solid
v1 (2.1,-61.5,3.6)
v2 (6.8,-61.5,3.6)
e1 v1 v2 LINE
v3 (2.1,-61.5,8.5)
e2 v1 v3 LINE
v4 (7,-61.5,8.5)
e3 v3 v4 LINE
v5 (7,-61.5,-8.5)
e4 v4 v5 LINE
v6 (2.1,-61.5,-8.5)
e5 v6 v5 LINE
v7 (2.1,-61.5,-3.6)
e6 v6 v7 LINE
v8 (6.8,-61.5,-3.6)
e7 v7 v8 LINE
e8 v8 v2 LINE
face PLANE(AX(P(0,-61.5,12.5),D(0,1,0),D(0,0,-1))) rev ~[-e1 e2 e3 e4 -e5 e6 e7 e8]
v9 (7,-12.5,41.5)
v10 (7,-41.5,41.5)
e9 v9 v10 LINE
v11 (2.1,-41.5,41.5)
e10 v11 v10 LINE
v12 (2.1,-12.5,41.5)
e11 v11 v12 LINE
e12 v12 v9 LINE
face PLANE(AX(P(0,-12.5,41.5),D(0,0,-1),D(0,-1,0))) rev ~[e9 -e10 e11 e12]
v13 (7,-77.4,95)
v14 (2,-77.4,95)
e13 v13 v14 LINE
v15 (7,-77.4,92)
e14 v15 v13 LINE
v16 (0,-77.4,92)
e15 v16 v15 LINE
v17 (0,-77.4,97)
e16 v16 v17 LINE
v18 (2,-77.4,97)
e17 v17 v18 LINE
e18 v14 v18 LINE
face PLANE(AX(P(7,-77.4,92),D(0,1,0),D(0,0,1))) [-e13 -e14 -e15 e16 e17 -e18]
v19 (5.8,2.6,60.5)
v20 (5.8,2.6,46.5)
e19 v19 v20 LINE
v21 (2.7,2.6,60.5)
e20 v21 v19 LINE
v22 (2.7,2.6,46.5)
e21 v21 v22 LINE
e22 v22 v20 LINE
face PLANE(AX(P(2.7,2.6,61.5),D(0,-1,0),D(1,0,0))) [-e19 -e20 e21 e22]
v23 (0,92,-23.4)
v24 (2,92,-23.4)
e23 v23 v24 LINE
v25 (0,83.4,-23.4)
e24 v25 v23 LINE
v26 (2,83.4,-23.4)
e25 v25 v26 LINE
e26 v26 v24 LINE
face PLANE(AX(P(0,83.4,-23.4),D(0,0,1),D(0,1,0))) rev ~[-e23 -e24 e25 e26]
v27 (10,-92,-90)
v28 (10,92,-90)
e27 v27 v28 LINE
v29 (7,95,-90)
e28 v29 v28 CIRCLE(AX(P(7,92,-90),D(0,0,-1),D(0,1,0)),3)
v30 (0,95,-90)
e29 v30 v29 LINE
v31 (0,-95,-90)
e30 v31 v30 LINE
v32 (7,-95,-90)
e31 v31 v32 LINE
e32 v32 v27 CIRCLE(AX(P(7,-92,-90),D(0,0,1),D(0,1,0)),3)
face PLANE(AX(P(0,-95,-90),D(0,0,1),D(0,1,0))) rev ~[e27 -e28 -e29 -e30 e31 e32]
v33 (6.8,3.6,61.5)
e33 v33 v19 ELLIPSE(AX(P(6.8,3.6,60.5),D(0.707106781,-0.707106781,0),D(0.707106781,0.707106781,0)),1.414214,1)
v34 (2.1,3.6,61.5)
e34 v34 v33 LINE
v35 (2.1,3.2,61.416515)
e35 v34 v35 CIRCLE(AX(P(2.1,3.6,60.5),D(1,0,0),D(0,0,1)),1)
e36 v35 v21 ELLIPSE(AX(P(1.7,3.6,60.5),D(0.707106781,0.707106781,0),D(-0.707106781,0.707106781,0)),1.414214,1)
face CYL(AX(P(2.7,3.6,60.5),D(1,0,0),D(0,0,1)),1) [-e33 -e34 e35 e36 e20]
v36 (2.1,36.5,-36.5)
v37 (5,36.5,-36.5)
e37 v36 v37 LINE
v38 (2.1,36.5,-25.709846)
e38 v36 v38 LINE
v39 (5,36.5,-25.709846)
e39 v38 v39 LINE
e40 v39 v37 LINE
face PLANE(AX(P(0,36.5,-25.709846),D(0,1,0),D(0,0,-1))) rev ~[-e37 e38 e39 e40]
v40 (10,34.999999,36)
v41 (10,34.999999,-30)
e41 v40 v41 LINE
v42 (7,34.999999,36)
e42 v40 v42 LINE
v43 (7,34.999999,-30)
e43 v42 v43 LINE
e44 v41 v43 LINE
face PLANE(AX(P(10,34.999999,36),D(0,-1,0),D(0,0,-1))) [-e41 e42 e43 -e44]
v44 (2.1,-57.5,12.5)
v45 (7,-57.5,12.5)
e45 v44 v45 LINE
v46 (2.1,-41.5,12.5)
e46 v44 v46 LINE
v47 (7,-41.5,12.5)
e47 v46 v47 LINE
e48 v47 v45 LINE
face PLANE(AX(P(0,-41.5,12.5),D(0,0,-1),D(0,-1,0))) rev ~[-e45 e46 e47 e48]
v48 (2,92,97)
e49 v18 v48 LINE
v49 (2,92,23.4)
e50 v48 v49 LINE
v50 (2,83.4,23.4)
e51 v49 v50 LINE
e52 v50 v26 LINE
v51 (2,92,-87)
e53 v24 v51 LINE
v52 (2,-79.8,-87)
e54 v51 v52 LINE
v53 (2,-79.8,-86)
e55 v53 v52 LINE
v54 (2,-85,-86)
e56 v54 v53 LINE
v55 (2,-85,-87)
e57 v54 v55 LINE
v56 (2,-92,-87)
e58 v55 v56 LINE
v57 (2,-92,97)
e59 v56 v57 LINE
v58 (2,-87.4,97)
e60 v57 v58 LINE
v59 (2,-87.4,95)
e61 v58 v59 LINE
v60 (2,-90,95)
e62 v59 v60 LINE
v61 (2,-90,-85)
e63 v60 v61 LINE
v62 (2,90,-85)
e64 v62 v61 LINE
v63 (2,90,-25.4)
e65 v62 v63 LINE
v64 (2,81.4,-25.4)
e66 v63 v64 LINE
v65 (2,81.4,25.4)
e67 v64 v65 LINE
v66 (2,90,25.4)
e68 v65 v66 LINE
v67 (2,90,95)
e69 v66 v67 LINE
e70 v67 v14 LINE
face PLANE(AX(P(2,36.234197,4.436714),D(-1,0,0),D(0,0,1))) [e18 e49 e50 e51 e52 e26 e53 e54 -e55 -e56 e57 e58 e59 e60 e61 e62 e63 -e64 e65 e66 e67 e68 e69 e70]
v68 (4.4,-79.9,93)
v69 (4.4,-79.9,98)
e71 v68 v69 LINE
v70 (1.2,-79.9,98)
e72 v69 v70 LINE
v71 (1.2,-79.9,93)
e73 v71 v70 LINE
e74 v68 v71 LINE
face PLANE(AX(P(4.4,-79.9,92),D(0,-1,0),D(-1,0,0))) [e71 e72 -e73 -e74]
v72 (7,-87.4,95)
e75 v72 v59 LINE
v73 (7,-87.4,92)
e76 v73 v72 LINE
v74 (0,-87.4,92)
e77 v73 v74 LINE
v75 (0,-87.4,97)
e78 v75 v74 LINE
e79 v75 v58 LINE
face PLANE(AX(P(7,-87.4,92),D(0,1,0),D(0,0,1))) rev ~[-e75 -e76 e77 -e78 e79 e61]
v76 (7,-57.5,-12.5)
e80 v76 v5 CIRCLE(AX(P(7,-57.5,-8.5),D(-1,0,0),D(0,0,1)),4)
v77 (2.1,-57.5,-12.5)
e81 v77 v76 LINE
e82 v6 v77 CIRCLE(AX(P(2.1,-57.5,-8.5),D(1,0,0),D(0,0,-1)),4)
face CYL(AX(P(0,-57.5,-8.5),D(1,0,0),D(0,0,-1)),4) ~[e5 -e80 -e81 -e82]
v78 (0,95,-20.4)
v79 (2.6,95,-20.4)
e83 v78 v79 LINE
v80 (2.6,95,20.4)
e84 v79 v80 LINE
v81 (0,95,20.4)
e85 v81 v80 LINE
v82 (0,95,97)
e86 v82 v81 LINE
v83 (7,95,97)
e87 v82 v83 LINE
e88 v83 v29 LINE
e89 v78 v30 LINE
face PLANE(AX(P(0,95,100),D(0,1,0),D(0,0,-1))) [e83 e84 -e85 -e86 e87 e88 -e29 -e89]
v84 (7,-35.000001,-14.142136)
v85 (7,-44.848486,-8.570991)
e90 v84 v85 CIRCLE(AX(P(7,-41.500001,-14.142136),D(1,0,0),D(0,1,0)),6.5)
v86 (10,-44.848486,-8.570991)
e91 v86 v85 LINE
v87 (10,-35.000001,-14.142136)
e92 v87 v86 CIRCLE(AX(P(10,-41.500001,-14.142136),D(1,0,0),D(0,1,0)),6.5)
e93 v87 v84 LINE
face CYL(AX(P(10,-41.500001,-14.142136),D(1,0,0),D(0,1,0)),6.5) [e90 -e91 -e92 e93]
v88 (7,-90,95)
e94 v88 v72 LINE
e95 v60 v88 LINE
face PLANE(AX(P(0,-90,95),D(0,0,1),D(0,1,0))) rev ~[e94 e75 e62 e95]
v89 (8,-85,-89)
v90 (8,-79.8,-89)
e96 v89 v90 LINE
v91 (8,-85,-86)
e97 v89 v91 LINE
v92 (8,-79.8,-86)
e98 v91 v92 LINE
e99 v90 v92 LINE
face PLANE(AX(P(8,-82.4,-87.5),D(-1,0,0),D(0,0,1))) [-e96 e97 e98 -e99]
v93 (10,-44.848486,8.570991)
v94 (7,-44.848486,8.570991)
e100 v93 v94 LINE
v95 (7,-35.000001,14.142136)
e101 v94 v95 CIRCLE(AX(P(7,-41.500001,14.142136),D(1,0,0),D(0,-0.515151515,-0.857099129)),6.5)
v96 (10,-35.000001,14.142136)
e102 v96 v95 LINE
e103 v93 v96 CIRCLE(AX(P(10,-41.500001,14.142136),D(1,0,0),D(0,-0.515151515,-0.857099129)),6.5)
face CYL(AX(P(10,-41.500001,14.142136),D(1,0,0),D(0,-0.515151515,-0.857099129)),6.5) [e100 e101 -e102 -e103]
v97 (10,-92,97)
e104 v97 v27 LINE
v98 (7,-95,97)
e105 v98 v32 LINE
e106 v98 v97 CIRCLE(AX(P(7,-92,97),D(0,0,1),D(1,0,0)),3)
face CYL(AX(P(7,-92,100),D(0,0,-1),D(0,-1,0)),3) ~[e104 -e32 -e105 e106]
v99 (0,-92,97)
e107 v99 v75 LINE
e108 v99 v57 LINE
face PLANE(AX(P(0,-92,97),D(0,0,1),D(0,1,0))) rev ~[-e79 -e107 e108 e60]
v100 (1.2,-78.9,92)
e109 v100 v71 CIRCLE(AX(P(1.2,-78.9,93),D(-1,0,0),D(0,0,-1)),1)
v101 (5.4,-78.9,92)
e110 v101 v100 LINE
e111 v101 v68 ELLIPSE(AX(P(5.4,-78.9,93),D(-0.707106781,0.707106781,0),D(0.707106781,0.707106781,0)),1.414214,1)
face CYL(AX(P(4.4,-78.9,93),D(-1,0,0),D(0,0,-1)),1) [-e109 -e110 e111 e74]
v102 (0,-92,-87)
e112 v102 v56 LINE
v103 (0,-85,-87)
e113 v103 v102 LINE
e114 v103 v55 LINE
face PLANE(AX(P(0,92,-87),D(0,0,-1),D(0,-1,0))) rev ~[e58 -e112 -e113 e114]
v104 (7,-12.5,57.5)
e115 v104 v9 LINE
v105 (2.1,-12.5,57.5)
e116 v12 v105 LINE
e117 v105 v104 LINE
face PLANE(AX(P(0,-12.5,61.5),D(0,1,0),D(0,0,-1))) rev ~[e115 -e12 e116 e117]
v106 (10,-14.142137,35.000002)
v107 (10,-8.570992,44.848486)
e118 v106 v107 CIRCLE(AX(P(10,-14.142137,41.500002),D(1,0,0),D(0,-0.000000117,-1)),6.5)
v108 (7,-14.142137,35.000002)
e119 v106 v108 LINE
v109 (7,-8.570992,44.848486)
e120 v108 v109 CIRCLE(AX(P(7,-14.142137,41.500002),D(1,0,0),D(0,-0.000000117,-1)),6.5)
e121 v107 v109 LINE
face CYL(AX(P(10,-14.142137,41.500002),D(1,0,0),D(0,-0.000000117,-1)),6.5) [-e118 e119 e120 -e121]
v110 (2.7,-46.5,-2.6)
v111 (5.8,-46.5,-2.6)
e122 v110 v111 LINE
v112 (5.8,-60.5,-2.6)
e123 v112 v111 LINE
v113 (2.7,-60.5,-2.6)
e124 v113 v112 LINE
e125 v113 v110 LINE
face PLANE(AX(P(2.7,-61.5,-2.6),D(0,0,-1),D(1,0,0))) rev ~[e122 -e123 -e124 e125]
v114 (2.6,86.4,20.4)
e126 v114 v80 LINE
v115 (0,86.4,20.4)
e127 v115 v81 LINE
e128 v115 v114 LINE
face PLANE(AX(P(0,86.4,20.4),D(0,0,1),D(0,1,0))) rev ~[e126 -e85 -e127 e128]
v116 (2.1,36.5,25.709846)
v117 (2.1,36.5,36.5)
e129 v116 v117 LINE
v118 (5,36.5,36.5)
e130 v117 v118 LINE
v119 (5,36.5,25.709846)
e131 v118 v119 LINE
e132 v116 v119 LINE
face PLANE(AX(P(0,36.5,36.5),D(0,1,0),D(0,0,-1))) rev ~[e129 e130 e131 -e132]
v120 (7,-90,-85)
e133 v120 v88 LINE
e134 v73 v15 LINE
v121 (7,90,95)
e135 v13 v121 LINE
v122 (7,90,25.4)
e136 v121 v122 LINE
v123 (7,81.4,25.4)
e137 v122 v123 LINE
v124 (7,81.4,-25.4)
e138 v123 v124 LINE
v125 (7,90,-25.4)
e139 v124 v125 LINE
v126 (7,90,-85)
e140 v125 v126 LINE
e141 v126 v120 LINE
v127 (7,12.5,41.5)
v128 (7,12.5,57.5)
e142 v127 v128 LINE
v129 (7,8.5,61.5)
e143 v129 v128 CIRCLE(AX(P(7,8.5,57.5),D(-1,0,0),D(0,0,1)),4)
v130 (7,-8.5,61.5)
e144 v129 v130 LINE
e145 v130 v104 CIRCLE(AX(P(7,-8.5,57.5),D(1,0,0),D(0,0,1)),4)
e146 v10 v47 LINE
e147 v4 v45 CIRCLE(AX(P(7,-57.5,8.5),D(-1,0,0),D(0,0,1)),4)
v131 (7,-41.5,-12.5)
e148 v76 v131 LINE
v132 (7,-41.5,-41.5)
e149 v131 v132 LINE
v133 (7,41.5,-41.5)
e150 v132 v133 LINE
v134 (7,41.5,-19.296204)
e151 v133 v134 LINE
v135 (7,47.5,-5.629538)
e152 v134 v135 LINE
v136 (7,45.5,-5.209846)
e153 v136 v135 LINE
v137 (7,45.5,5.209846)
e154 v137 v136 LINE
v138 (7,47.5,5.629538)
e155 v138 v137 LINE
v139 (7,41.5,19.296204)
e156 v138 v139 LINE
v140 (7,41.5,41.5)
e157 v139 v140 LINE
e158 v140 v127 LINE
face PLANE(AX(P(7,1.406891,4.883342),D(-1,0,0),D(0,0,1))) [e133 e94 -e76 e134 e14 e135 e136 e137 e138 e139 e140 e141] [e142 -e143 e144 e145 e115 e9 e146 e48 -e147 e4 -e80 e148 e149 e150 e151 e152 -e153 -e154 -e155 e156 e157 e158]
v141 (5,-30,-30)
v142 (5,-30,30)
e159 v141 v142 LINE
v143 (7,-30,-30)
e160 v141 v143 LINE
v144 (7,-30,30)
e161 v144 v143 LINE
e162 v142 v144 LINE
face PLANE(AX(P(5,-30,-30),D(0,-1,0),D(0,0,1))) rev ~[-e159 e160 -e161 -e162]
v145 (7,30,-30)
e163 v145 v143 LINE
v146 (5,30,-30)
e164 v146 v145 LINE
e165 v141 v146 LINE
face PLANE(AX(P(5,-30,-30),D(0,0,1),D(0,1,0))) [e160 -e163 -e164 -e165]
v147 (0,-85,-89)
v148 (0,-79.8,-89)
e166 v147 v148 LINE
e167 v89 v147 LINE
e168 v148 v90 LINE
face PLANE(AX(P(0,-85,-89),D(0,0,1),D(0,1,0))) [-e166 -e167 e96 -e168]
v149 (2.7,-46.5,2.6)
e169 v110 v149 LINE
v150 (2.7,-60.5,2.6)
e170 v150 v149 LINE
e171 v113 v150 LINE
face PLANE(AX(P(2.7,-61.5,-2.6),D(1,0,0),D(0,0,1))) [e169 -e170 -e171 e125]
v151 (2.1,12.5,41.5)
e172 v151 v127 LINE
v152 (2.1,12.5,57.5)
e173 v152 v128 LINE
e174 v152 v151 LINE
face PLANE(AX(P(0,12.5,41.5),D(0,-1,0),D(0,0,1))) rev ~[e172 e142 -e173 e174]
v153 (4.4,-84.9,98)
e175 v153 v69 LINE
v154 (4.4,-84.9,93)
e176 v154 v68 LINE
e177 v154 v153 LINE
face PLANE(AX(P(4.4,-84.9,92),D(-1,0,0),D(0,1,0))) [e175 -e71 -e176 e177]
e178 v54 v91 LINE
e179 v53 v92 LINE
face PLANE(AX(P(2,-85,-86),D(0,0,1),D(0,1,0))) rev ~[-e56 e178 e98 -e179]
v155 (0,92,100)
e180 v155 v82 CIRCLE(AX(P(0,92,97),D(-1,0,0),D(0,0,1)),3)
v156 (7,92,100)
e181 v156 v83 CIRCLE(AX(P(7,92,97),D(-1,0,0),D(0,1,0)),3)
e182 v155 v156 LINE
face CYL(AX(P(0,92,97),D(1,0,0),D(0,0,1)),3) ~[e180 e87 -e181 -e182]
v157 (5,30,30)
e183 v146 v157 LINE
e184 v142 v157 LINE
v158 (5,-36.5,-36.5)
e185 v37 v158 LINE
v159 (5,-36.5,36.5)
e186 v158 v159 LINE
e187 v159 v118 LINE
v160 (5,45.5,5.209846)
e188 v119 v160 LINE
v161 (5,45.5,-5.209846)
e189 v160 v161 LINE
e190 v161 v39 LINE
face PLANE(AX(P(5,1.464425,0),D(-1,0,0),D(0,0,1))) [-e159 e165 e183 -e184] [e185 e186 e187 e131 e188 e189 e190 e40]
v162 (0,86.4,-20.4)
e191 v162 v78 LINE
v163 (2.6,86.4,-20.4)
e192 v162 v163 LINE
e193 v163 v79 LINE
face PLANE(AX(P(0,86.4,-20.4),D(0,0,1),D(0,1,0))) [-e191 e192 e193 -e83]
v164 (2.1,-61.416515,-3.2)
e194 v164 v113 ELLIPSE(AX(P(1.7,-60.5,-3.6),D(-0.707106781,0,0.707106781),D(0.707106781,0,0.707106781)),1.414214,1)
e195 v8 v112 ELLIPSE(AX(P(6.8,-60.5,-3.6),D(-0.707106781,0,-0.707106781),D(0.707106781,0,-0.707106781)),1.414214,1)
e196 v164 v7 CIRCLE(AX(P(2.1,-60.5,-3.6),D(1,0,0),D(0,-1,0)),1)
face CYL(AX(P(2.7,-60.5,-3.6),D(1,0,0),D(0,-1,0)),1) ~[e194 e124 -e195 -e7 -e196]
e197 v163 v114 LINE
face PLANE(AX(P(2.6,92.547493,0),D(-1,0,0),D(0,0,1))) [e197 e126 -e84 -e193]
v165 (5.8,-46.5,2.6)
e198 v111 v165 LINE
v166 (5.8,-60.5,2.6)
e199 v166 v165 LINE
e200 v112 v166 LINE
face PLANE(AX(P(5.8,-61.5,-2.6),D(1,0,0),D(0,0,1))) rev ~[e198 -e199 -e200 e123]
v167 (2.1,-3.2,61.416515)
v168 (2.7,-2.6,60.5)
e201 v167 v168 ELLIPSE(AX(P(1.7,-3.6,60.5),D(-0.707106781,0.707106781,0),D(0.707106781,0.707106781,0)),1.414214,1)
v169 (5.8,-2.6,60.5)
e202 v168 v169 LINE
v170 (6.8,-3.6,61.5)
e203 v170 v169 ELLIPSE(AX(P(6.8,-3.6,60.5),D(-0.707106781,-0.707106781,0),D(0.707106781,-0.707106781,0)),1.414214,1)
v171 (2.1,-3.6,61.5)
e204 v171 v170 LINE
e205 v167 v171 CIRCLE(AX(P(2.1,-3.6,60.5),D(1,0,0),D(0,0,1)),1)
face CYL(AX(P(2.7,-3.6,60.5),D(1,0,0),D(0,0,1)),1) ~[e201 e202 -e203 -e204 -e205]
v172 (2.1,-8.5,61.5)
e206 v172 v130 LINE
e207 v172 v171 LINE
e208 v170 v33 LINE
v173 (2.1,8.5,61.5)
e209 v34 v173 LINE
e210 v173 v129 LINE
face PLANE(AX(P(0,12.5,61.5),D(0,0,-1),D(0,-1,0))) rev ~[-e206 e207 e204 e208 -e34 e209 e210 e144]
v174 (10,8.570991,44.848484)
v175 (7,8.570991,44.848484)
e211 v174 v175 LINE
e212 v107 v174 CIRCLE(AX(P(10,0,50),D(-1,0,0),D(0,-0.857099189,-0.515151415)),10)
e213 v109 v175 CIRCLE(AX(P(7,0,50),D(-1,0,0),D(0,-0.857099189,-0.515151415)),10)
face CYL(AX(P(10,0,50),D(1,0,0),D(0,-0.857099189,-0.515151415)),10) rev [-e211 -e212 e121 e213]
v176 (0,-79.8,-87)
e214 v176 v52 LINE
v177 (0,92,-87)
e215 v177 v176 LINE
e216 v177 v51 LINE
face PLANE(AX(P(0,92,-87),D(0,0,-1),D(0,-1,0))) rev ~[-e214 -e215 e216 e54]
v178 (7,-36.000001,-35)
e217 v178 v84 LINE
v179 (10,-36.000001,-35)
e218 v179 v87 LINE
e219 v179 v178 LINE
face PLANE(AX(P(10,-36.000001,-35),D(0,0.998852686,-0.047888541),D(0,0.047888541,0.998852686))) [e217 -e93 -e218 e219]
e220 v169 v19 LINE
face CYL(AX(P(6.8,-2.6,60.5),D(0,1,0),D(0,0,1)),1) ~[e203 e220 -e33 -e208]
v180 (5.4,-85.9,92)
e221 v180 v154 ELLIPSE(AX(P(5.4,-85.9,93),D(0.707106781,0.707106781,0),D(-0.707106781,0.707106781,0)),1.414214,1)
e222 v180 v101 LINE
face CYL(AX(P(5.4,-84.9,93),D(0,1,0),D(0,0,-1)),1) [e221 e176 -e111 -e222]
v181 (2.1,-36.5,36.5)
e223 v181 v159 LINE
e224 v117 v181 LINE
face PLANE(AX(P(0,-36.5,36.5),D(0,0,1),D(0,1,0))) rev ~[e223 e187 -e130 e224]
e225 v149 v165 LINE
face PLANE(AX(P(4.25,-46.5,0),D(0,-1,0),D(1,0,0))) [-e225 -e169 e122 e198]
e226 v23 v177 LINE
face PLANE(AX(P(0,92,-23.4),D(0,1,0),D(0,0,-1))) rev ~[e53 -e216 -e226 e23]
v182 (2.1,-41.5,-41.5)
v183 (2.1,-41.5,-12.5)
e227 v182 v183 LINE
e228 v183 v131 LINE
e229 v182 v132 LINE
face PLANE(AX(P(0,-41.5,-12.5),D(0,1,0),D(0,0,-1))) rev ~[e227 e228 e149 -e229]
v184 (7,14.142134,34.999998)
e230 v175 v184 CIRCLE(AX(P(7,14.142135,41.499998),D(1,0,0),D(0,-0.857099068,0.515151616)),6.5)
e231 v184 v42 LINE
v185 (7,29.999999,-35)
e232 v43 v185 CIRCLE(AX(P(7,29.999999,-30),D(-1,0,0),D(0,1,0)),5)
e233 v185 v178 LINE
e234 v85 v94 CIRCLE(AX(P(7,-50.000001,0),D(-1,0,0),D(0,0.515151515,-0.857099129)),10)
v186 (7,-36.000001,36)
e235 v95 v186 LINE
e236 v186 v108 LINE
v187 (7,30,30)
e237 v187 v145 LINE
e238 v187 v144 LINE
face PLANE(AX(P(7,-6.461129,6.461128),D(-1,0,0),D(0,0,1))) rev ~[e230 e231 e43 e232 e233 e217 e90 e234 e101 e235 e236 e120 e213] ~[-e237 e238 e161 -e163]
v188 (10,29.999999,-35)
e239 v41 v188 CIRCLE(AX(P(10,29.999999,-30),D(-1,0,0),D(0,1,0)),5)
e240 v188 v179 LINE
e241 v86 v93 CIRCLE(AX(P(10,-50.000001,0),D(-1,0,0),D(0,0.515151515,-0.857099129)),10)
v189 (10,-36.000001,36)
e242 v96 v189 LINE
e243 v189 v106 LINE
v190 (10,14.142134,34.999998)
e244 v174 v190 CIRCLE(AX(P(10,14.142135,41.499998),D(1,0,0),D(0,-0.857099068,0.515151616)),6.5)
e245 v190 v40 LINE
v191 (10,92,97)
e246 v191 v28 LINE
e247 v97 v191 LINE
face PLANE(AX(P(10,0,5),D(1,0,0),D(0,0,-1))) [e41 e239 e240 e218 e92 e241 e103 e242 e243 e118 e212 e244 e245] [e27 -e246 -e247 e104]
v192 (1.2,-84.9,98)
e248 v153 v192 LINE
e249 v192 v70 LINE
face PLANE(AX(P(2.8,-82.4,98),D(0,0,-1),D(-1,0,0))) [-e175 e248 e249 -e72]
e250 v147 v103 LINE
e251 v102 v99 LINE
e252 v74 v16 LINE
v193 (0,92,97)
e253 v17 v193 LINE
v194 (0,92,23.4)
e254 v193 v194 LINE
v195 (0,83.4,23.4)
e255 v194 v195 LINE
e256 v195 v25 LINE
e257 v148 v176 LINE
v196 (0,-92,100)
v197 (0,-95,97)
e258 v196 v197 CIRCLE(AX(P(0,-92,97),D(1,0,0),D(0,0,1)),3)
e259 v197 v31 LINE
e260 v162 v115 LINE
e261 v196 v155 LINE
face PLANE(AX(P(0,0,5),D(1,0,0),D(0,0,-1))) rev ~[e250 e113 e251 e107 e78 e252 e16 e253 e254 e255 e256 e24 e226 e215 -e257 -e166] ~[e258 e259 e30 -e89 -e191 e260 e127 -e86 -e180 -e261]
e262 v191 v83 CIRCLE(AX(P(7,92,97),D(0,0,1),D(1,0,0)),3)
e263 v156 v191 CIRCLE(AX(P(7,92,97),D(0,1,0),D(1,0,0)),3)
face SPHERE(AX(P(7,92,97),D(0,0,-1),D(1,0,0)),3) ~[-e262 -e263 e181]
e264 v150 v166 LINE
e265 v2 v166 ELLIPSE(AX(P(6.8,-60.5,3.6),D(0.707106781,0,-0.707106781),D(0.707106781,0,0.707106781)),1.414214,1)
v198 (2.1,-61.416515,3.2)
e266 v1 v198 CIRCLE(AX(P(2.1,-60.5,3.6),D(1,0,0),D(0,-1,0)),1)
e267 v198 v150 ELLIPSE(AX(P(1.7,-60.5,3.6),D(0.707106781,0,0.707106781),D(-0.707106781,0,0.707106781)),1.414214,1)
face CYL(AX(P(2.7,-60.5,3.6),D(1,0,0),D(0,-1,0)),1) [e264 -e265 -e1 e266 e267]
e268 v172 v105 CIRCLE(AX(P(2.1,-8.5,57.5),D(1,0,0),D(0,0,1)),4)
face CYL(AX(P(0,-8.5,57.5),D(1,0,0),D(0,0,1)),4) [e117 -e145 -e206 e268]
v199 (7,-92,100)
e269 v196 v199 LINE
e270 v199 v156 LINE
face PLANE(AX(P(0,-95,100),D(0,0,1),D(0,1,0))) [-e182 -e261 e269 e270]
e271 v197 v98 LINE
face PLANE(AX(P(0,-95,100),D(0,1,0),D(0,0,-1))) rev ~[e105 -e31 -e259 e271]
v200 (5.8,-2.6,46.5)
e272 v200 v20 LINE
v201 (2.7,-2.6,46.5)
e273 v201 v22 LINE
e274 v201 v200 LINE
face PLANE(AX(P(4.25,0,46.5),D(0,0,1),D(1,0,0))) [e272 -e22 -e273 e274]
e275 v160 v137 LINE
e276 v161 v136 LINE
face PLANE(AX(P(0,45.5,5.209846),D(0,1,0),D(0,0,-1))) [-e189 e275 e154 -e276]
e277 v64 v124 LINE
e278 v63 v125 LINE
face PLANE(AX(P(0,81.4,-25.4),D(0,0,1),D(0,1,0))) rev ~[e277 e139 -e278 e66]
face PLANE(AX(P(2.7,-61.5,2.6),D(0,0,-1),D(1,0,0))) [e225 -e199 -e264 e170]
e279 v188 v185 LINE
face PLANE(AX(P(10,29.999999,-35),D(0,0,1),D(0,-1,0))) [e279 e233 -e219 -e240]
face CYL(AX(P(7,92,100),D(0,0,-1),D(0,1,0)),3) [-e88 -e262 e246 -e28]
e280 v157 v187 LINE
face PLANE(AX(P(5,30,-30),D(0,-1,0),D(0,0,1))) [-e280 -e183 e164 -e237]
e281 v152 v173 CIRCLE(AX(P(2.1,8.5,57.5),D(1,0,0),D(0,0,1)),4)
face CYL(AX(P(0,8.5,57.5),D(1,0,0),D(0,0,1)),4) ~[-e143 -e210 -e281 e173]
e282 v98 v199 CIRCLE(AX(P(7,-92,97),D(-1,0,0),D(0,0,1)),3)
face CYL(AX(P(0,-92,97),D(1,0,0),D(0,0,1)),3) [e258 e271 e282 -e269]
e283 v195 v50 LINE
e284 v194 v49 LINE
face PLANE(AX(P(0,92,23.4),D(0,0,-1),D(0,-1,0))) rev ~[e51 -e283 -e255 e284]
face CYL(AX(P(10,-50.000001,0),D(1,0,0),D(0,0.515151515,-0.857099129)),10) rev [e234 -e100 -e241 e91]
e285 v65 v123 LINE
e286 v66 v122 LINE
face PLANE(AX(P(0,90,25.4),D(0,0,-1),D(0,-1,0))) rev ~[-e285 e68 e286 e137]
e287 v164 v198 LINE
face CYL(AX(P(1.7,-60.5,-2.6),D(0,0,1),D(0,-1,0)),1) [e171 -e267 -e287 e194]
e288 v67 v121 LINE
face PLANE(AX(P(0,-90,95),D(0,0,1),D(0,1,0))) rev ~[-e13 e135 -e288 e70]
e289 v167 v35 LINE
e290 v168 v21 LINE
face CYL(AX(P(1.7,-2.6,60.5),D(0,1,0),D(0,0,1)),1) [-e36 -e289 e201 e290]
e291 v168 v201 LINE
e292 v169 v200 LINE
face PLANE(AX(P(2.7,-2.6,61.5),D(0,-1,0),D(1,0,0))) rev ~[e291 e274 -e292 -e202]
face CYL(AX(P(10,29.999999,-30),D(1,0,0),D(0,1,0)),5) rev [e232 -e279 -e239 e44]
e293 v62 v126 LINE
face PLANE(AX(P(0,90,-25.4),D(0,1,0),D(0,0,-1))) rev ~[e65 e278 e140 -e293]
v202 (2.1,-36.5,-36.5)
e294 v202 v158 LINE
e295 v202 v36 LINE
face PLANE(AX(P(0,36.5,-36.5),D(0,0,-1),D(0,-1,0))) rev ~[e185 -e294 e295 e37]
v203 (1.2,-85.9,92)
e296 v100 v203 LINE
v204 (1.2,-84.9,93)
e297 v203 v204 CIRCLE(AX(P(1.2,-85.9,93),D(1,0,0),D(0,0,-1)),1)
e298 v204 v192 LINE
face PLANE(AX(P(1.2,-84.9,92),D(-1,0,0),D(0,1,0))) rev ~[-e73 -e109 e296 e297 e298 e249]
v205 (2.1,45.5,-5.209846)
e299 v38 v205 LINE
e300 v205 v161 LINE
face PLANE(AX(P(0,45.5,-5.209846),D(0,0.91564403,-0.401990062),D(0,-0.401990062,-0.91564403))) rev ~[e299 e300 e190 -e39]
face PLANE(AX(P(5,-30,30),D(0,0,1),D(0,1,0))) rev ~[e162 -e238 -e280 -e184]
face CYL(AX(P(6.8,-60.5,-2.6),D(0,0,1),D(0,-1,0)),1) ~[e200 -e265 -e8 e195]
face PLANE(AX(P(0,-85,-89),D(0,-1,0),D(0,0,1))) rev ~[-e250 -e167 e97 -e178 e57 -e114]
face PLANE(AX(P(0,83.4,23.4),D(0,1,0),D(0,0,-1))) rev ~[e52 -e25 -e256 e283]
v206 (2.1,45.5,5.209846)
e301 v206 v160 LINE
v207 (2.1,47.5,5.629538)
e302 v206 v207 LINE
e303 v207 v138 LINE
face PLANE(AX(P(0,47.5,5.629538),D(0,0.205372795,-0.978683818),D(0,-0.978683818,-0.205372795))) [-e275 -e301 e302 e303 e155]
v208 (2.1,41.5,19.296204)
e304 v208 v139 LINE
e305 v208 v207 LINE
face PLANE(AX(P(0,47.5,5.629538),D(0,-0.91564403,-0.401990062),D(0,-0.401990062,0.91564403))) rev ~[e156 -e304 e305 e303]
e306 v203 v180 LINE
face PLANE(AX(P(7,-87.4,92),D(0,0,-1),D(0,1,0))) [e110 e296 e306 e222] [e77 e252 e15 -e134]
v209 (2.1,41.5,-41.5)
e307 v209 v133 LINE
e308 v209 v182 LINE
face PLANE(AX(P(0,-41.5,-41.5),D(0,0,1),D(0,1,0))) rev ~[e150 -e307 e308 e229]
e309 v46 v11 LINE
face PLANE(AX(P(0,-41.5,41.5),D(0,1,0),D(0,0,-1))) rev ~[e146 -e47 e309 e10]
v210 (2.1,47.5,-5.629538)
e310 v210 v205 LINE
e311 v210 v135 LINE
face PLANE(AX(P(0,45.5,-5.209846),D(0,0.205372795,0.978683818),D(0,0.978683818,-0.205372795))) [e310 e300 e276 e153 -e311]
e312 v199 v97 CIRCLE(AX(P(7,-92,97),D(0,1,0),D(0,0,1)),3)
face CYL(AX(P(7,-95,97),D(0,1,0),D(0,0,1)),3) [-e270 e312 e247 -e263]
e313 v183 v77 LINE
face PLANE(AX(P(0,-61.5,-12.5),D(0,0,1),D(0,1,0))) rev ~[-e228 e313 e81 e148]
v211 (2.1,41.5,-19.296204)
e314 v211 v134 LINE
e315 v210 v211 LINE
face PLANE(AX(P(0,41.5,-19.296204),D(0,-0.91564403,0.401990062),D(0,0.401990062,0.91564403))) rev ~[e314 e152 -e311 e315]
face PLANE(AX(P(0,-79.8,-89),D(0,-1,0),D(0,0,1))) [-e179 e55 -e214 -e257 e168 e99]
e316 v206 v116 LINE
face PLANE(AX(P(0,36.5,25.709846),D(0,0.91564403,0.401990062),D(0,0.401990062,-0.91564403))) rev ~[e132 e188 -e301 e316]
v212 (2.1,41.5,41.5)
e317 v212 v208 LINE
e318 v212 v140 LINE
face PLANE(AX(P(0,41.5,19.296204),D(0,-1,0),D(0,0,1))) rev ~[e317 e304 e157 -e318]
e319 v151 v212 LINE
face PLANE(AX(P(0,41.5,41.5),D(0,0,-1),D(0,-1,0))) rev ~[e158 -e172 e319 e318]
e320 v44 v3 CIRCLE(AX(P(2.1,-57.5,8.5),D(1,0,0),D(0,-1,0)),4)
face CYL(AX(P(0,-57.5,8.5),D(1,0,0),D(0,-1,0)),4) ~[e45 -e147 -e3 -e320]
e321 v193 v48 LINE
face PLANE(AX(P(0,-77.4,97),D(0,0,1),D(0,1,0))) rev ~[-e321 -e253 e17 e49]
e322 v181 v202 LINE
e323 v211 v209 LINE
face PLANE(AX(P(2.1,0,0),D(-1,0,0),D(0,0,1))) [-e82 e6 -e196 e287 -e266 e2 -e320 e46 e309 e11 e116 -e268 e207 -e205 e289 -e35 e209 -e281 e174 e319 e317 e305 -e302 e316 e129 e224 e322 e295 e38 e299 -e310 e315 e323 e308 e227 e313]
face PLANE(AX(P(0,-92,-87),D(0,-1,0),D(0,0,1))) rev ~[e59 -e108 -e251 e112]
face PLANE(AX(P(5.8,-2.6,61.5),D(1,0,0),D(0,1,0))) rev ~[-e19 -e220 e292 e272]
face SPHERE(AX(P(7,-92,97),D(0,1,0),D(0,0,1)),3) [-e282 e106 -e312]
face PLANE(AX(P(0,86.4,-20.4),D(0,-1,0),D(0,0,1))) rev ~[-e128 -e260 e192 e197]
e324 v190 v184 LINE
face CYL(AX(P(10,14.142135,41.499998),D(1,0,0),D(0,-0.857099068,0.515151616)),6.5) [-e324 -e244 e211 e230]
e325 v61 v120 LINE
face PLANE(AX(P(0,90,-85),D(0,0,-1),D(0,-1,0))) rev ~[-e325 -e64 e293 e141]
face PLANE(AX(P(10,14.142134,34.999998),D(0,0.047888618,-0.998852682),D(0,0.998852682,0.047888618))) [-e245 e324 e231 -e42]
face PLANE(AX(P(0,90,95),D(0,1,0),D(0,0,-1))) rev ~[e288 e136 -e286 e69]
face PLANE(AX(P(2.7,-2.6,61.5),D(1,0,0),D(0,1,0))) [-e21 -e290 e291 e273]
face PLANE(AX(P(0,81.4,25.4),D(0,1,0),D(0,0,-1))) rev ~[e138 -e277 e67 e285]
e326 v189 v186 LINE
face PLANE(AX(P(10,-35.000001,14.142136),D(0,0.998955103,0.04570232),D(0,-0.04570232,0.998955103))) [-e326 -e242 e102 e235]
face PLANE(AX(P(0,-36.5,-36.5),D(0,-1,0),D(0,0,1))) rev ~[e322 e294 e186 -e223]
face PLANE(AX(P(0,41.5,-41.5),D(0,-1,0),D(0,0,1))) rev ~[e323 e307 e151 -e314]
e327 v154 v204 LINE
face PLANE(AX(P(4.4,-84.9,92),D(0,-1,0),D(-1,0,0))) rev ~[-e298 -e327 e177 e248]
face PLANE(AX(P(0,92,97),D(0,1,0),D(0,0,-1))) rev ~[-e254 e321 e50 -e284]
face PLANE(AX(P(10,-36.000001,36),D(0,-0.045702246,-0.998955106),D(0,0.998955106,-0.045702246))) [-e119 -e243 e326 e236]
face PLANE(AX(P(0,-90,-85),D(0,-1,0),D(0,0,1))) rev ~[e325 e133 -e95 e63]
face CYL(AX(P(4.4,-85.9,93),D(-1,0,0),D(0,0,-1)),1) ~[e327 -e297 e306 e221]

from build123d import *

# Parameters (mm, degrees)
SKETCH1_W           = 190
SKETCH1_H           = 190
BOSS_EXTRUDE1_DEPTH = 10
CUT_EXTRUDE1_DEPTH  = 5
SKETCH3_W           = 60
SKETCH3_H           = 60
CUT_EXTRUDE2_DEPTH  = 139.021737418
CUT_EXTRUDE3_DEPTH  = 3
SKETCH8_W           = 40.8
SKETCH8_H           = 12.294985481
CUT_EXTRUDE4_DEPTH  = 2.6
CUT_EXTRUDE5_DEPTH  = 7
FILLET1_R           = 3
SKETCH10_W          = 3.1
SKETCH10_H          = 5.2
CUT_EXTRUDE6_DEPTH  = 15
FILLET2_R           = 1
SKETCH11_W          = 3.1
SKETCH11_H          = 5.2
CUT_EXTRUDE7_DEPTH  = 15
FILLET3_R           = 1
FILLET4_R           = 4
SKETCH12_W          = 4
SKETCH12_H          = 5.2
CUT_EXTRUDE8_DEPTH  = 2
SKETCH13_W          = 3
SKETCH13_H          = 5.2
CUT_EXTRUDE9_DEPTH  = 6
SKETCH14_W          = 3
SKETCH14_H          = 10
BOSS_EXTRUDE2_DEPTH = 7
SKETCH16_W          = 3.2
SKETCH16_H          = 5
CUT_EXTRUDE10_DEPTH = 6
FILLET5_R           = 1
SKETCH17_W          = 131.159114754
SKETCH17_H          = 131.95401848
CUT_EXTRUDE11_DEPTH = 2.1
CUT_EXTRUDE12_DEPTH = 2


with BuildPart() as part:
    # Sketch1 → Boss-Extrude1 (new body)
    with BuildSketch(Plane(origin=(0, 0, 0), x_dir=(0, 0, -1), z_dir=(1, 0, 0))):
        with Locations((-5, 0)):
            Rectangle(SKETCH1_W, SKETCH1_H)
    extrude(amount=BOSS_EXTRUDE1_DEPTH)

    # Sketch2 → Cut-Extrude1 (cut)
    with BuildSketch(Plane.ZY):
        Polygon((36.5, -36.5), (36.5, 36.5), (25.709845909, 36.5), (5.209845909, 45.5), (-5.209845909, 45.5), (-25.709845909, 36.5), (-36.5, 36.5), (-36.5, -36.5), align=None)
    extrude(amount=-CUT_EXTRUDE1_DEPTH, mode=Mode.SUBTRACT)

    # Sketch3 → Cut-Extrude2 (cut, through all)
    with BuildSketch(Plane.ZY.offset(-5)):
        Rectangle(SKETCH3_W, SKETCH3_H)
    extrude(amount=-CUT_EXTRUDE2_DEPTH, mode=Mode.SUBTRACT)

    # Sketch4 → Cut-Extrude3 (cut)
    with BuildSketch(Plane(origin=(10, 0, 0), x_dir=(0, 0, -1), z_dir=(1, 0, 0))):
        with BuildLine():
            Line((35, 29.999999003), (35, -35.000000997))
            Line((35, -35.000000997), (35, -36.000000997))
            Line((35, -36.000000997), (14.142135624, -35.000000997))
            ThreePointArc((14.142135624, -35.000000997), (8.484611805, -38.299622231), (8.570991287, -44.848485845))
            ThreePointArc((8.570991287, -44.848485845), (0, -60.000000997), (-8.570991287, -44.848485845))
            ThreePointArc((-8.570991287, -44.848485845), (-8.484611805, -38.299622231), (-14.142135624, -35.000000997))
            Line((-14.142135624, -35.000000997), (-36, -36.000000997))
            Line((-36, -36.000000997), (-35.000001658, -14.142137383))
            ThreePointArc((-35.000001658, -14.142137383), (-38.29962223, -8.484613177), (-44.848485854, -8.570991891))
            ThreePointArc((-44.848485854, -8.570991891), (-60, 1.173e-06), (-44.848483843, 8.570990683))
            ThreePointArc((-44.848483843, 8.570990683), (-38.29962024, 8.484610433), (-34.999998342, 14.142133865))
            Line((-34.999998342, 14.142133865), (-36, 34.999999003))
            Line((-36, 34.999999003), (-35, 34.999999003))
            Line((-35, 34.999999003), (30, 34.999999003))
            ThreePointArc((30, 34.999999003), (33.535533906, 33.535532909), (35, 29.999999003))
        make_face()
    extrude(amount=-CUT_EXTRUDE3_DEPTH, mode=Mode.SUBTRACT)

    # Sketch8 → Cut-Extrude4 (cut)
    with BuildSketch(Plane.ZY):
        with Locations((0, 92.547492741)):
            Rectangle(SKETCH8_W, SKETCH8_H)
    extrude(amount=-CUT_EXTRUDE4_DEPTH, mode=Mode.SUBTRACT)

    # Sketch9 → Cut-Extrude5 (cut)
    # profile 1 of 2: a face of its own
    with BuildSketch(Plane.ZY):
        Polygon((-25.4, 90), (-85, 90), (-85, -90), (95, -90), (95, 90), (25.4, 90), (25.4, 81.4), (-25.4, 81.4), align=None)
        Polygon((-41.5, -41.5), (-41.5, 41.5), (-19.296204392, 41.5), (-5.629537726, 47.5), (5.629537726, 47.5), (19.296204392, 41.5), (41.5, 41.5), (41.5, 12.5), (61.5, 12.5), (61.5, -12.5), (41.5, -12.5), (41.5, -41.5), (12.5, -41.5), (12.5, -61.5), (-12.5, -61.5), (-12.5, -41.5), align=None, mode=Mode.SUBTRACT)
    # profile 2 of 2: a face of its own
    with BuildSketch(Plane.ZY):
        Polygon((-5.629537726, 47.5), (5.629537726, 47.5), (5.209845909, 45.5), (-5.209845909, 45.5), align=None)
    extrude(amount=-CUT_EXTRUDE5_DEPTH, mode=Mode.SUBTRACT)

    # Fillet1
    fillet1_edges = [part.edges().sort_by_distance(p)[0] for p in [
        (10, 95, 5),
        (10, 0, 100),
        (5, 95, 100),
        (5, -95, 100),
        (10, -95, 5),
    ]]
    fillet(fillet1_edges, radius=FILLET1_R)

    # Sketch10 → Cut-Extrude6 (cut)
    with BuildSketch(Plane.XZ.offset(61.5)):
        with Locations((4.25, 0)):
            Rectangle(SKETCH10_W, SKETCH10_H)
    extrude(amount=-CUT_EXTRUDE6_DEPTH, mode=Mode.SUBTRACT)

    # Fillet2
    fillet2_edges = [part.edges().sort_by_distance(p)[0] for p in [
        (2.7, -61.5, 0),
        (4.25, -61.5, -2.6),
        (5.8, -61.5, 0),
        (4.25, -61.5, 2.6),
    ]]
    fillet(fillet2_edges, radius=FILLET2_R)

    # Sketch11 → Cut-Extrude7 (cut)
    with BuildSketch(Plane.XY.offset(61.5)):
        with Locations((4.25, 0)):
            Rectangle(SKETCH11_W, SKETCH11_H)
    extrude(amount=-CUT_EXTRUDE7_DEPTH, mode=Mode.SUBTRACT)

    # Fillet3
    fillet3_edges = [part.edges().sort_by_distance(p)[0] for p in [
        (2.7, 0, 61.5),
        (4.25, -2.6, 61.5),
        (5.8, 0, 61.5),
        (4.25, 2.6, 61.5),
    ]]
    fillet(fillet3_edges, radius=FILLET3_R)

    # Fillet4
    fillet4_edges = [part.edges().sort_by_distance(p)[0] for p in [
        (3.5, -61.5, -12.5),
        (3.5, -61.5, 12.5),
        (3.5, -12.5, 61.5),
        (3.5, 12.5, 61.5),
    ]]
    fillet(fillet4_edges, radius=FILLET4_R)

    # Sketch12 → Cut-Extrude8 (cut)
    with BuildSketch(Plane.ZY):
        with Locations((-87, -82.4)):
            Rectangle(SKETCH12_W, SKETCH12_H)
    extrude(amount=-CUT_EXTRUDE8_DEPTH, mode=Mode.SUBTRACT)

    # Sketch13 → Cut-Extrude9 (cut)
    with BuildSketch(Plane.ZY.offset(-2)):
        with Locations((-87.5, -82.4)):
            Rectangle(SKETCH13_W, SKETCH13_H)
    extrude(amount=-CUT_EXTRUDE9_DEPTH, mode=Mode.SUBTRACT)

    # Sketch14 → Boss-Extrude2 (add)
    with BuildSketch(Plane.ZY.offset(-7)):
        with Locations((93.5, -82.4)):
            Rectangle(SKETCH14_W, SKETCH14_H)
    extrude(amount=BOSS_EXTRUDE2_DEPTH)

    # Sketch16 → Cut-Extrude10 (cut)
    with BuildSketch(Plane(origin=(0, 0, 92), x_dir=(-1, 0, 0), z_dir=(0, 0, -1))):
        with Locations((-2.8, -82.4)):
            Rectangle(SKETCH16_W, SKETCH16_H)
    extrude(amount=-CUT_EXTRUDE10_DEPTH, mode=Mode.SUBTRACT)

    # Fillet5
    fillet5_edges = [part.edges().sort_by_distance(p)[0] for p in [
        (4.4, -82.4, 92),
        (2.8, -84.9, 92),
        (2.8, -79.9, 92),
    ]]
    fillet(fillet5_edges, radius=FILLET5_R)

    # Sketch17 → Cut-Extrude11 (cut)
    with BuildSketch(Plane.ZY):
        Rectangle(SKETCH17_W, SKETCH17_H)
    extrude(amount=-CUT_EXTRUDE11_DEPTH, mode=Mode.SUBTRACT)

    # Sketch18 → Cut-Extrude12 (cut)
    with BuildSketch(Plane.ZY):
        Polygon((-23.4, 92), (-87, 92), (-87, -79.8), (-85, -79.8), (-85, 90), (-25.4, 90), (-25.4, 81.4), (25.4, 81.4), (25.4, 90), (95, 90), (95, -77.4), (97, -77.4), (97, 92), (23.4, 92), (23.4, 83.4), (-23.4, 83.4), align=None)
        Polygon((-85, -79.8), (-87, -79.8), (-87, -85), (-85, -85), (-85, -90), (95, -90), (95, -87.4), (92, -87.4), (92, -77.4), (95, -77.4), (95, 90), (25.4, 90), (25.4, 81.4), (-25.4, 81.4), (-25.4, 90), (-85, 90), align=None)
        Polygon((-85, -85), (-87, -85), (-87, -92), (97, -92), (97, -87.4), (95, -87.4), (95, -90), (-85, -90), align=None)
    extrude(amount=-CUT_EXTRUDE12_DEPTH, mode=Mode.SUBTRACT)


solid = part.part
